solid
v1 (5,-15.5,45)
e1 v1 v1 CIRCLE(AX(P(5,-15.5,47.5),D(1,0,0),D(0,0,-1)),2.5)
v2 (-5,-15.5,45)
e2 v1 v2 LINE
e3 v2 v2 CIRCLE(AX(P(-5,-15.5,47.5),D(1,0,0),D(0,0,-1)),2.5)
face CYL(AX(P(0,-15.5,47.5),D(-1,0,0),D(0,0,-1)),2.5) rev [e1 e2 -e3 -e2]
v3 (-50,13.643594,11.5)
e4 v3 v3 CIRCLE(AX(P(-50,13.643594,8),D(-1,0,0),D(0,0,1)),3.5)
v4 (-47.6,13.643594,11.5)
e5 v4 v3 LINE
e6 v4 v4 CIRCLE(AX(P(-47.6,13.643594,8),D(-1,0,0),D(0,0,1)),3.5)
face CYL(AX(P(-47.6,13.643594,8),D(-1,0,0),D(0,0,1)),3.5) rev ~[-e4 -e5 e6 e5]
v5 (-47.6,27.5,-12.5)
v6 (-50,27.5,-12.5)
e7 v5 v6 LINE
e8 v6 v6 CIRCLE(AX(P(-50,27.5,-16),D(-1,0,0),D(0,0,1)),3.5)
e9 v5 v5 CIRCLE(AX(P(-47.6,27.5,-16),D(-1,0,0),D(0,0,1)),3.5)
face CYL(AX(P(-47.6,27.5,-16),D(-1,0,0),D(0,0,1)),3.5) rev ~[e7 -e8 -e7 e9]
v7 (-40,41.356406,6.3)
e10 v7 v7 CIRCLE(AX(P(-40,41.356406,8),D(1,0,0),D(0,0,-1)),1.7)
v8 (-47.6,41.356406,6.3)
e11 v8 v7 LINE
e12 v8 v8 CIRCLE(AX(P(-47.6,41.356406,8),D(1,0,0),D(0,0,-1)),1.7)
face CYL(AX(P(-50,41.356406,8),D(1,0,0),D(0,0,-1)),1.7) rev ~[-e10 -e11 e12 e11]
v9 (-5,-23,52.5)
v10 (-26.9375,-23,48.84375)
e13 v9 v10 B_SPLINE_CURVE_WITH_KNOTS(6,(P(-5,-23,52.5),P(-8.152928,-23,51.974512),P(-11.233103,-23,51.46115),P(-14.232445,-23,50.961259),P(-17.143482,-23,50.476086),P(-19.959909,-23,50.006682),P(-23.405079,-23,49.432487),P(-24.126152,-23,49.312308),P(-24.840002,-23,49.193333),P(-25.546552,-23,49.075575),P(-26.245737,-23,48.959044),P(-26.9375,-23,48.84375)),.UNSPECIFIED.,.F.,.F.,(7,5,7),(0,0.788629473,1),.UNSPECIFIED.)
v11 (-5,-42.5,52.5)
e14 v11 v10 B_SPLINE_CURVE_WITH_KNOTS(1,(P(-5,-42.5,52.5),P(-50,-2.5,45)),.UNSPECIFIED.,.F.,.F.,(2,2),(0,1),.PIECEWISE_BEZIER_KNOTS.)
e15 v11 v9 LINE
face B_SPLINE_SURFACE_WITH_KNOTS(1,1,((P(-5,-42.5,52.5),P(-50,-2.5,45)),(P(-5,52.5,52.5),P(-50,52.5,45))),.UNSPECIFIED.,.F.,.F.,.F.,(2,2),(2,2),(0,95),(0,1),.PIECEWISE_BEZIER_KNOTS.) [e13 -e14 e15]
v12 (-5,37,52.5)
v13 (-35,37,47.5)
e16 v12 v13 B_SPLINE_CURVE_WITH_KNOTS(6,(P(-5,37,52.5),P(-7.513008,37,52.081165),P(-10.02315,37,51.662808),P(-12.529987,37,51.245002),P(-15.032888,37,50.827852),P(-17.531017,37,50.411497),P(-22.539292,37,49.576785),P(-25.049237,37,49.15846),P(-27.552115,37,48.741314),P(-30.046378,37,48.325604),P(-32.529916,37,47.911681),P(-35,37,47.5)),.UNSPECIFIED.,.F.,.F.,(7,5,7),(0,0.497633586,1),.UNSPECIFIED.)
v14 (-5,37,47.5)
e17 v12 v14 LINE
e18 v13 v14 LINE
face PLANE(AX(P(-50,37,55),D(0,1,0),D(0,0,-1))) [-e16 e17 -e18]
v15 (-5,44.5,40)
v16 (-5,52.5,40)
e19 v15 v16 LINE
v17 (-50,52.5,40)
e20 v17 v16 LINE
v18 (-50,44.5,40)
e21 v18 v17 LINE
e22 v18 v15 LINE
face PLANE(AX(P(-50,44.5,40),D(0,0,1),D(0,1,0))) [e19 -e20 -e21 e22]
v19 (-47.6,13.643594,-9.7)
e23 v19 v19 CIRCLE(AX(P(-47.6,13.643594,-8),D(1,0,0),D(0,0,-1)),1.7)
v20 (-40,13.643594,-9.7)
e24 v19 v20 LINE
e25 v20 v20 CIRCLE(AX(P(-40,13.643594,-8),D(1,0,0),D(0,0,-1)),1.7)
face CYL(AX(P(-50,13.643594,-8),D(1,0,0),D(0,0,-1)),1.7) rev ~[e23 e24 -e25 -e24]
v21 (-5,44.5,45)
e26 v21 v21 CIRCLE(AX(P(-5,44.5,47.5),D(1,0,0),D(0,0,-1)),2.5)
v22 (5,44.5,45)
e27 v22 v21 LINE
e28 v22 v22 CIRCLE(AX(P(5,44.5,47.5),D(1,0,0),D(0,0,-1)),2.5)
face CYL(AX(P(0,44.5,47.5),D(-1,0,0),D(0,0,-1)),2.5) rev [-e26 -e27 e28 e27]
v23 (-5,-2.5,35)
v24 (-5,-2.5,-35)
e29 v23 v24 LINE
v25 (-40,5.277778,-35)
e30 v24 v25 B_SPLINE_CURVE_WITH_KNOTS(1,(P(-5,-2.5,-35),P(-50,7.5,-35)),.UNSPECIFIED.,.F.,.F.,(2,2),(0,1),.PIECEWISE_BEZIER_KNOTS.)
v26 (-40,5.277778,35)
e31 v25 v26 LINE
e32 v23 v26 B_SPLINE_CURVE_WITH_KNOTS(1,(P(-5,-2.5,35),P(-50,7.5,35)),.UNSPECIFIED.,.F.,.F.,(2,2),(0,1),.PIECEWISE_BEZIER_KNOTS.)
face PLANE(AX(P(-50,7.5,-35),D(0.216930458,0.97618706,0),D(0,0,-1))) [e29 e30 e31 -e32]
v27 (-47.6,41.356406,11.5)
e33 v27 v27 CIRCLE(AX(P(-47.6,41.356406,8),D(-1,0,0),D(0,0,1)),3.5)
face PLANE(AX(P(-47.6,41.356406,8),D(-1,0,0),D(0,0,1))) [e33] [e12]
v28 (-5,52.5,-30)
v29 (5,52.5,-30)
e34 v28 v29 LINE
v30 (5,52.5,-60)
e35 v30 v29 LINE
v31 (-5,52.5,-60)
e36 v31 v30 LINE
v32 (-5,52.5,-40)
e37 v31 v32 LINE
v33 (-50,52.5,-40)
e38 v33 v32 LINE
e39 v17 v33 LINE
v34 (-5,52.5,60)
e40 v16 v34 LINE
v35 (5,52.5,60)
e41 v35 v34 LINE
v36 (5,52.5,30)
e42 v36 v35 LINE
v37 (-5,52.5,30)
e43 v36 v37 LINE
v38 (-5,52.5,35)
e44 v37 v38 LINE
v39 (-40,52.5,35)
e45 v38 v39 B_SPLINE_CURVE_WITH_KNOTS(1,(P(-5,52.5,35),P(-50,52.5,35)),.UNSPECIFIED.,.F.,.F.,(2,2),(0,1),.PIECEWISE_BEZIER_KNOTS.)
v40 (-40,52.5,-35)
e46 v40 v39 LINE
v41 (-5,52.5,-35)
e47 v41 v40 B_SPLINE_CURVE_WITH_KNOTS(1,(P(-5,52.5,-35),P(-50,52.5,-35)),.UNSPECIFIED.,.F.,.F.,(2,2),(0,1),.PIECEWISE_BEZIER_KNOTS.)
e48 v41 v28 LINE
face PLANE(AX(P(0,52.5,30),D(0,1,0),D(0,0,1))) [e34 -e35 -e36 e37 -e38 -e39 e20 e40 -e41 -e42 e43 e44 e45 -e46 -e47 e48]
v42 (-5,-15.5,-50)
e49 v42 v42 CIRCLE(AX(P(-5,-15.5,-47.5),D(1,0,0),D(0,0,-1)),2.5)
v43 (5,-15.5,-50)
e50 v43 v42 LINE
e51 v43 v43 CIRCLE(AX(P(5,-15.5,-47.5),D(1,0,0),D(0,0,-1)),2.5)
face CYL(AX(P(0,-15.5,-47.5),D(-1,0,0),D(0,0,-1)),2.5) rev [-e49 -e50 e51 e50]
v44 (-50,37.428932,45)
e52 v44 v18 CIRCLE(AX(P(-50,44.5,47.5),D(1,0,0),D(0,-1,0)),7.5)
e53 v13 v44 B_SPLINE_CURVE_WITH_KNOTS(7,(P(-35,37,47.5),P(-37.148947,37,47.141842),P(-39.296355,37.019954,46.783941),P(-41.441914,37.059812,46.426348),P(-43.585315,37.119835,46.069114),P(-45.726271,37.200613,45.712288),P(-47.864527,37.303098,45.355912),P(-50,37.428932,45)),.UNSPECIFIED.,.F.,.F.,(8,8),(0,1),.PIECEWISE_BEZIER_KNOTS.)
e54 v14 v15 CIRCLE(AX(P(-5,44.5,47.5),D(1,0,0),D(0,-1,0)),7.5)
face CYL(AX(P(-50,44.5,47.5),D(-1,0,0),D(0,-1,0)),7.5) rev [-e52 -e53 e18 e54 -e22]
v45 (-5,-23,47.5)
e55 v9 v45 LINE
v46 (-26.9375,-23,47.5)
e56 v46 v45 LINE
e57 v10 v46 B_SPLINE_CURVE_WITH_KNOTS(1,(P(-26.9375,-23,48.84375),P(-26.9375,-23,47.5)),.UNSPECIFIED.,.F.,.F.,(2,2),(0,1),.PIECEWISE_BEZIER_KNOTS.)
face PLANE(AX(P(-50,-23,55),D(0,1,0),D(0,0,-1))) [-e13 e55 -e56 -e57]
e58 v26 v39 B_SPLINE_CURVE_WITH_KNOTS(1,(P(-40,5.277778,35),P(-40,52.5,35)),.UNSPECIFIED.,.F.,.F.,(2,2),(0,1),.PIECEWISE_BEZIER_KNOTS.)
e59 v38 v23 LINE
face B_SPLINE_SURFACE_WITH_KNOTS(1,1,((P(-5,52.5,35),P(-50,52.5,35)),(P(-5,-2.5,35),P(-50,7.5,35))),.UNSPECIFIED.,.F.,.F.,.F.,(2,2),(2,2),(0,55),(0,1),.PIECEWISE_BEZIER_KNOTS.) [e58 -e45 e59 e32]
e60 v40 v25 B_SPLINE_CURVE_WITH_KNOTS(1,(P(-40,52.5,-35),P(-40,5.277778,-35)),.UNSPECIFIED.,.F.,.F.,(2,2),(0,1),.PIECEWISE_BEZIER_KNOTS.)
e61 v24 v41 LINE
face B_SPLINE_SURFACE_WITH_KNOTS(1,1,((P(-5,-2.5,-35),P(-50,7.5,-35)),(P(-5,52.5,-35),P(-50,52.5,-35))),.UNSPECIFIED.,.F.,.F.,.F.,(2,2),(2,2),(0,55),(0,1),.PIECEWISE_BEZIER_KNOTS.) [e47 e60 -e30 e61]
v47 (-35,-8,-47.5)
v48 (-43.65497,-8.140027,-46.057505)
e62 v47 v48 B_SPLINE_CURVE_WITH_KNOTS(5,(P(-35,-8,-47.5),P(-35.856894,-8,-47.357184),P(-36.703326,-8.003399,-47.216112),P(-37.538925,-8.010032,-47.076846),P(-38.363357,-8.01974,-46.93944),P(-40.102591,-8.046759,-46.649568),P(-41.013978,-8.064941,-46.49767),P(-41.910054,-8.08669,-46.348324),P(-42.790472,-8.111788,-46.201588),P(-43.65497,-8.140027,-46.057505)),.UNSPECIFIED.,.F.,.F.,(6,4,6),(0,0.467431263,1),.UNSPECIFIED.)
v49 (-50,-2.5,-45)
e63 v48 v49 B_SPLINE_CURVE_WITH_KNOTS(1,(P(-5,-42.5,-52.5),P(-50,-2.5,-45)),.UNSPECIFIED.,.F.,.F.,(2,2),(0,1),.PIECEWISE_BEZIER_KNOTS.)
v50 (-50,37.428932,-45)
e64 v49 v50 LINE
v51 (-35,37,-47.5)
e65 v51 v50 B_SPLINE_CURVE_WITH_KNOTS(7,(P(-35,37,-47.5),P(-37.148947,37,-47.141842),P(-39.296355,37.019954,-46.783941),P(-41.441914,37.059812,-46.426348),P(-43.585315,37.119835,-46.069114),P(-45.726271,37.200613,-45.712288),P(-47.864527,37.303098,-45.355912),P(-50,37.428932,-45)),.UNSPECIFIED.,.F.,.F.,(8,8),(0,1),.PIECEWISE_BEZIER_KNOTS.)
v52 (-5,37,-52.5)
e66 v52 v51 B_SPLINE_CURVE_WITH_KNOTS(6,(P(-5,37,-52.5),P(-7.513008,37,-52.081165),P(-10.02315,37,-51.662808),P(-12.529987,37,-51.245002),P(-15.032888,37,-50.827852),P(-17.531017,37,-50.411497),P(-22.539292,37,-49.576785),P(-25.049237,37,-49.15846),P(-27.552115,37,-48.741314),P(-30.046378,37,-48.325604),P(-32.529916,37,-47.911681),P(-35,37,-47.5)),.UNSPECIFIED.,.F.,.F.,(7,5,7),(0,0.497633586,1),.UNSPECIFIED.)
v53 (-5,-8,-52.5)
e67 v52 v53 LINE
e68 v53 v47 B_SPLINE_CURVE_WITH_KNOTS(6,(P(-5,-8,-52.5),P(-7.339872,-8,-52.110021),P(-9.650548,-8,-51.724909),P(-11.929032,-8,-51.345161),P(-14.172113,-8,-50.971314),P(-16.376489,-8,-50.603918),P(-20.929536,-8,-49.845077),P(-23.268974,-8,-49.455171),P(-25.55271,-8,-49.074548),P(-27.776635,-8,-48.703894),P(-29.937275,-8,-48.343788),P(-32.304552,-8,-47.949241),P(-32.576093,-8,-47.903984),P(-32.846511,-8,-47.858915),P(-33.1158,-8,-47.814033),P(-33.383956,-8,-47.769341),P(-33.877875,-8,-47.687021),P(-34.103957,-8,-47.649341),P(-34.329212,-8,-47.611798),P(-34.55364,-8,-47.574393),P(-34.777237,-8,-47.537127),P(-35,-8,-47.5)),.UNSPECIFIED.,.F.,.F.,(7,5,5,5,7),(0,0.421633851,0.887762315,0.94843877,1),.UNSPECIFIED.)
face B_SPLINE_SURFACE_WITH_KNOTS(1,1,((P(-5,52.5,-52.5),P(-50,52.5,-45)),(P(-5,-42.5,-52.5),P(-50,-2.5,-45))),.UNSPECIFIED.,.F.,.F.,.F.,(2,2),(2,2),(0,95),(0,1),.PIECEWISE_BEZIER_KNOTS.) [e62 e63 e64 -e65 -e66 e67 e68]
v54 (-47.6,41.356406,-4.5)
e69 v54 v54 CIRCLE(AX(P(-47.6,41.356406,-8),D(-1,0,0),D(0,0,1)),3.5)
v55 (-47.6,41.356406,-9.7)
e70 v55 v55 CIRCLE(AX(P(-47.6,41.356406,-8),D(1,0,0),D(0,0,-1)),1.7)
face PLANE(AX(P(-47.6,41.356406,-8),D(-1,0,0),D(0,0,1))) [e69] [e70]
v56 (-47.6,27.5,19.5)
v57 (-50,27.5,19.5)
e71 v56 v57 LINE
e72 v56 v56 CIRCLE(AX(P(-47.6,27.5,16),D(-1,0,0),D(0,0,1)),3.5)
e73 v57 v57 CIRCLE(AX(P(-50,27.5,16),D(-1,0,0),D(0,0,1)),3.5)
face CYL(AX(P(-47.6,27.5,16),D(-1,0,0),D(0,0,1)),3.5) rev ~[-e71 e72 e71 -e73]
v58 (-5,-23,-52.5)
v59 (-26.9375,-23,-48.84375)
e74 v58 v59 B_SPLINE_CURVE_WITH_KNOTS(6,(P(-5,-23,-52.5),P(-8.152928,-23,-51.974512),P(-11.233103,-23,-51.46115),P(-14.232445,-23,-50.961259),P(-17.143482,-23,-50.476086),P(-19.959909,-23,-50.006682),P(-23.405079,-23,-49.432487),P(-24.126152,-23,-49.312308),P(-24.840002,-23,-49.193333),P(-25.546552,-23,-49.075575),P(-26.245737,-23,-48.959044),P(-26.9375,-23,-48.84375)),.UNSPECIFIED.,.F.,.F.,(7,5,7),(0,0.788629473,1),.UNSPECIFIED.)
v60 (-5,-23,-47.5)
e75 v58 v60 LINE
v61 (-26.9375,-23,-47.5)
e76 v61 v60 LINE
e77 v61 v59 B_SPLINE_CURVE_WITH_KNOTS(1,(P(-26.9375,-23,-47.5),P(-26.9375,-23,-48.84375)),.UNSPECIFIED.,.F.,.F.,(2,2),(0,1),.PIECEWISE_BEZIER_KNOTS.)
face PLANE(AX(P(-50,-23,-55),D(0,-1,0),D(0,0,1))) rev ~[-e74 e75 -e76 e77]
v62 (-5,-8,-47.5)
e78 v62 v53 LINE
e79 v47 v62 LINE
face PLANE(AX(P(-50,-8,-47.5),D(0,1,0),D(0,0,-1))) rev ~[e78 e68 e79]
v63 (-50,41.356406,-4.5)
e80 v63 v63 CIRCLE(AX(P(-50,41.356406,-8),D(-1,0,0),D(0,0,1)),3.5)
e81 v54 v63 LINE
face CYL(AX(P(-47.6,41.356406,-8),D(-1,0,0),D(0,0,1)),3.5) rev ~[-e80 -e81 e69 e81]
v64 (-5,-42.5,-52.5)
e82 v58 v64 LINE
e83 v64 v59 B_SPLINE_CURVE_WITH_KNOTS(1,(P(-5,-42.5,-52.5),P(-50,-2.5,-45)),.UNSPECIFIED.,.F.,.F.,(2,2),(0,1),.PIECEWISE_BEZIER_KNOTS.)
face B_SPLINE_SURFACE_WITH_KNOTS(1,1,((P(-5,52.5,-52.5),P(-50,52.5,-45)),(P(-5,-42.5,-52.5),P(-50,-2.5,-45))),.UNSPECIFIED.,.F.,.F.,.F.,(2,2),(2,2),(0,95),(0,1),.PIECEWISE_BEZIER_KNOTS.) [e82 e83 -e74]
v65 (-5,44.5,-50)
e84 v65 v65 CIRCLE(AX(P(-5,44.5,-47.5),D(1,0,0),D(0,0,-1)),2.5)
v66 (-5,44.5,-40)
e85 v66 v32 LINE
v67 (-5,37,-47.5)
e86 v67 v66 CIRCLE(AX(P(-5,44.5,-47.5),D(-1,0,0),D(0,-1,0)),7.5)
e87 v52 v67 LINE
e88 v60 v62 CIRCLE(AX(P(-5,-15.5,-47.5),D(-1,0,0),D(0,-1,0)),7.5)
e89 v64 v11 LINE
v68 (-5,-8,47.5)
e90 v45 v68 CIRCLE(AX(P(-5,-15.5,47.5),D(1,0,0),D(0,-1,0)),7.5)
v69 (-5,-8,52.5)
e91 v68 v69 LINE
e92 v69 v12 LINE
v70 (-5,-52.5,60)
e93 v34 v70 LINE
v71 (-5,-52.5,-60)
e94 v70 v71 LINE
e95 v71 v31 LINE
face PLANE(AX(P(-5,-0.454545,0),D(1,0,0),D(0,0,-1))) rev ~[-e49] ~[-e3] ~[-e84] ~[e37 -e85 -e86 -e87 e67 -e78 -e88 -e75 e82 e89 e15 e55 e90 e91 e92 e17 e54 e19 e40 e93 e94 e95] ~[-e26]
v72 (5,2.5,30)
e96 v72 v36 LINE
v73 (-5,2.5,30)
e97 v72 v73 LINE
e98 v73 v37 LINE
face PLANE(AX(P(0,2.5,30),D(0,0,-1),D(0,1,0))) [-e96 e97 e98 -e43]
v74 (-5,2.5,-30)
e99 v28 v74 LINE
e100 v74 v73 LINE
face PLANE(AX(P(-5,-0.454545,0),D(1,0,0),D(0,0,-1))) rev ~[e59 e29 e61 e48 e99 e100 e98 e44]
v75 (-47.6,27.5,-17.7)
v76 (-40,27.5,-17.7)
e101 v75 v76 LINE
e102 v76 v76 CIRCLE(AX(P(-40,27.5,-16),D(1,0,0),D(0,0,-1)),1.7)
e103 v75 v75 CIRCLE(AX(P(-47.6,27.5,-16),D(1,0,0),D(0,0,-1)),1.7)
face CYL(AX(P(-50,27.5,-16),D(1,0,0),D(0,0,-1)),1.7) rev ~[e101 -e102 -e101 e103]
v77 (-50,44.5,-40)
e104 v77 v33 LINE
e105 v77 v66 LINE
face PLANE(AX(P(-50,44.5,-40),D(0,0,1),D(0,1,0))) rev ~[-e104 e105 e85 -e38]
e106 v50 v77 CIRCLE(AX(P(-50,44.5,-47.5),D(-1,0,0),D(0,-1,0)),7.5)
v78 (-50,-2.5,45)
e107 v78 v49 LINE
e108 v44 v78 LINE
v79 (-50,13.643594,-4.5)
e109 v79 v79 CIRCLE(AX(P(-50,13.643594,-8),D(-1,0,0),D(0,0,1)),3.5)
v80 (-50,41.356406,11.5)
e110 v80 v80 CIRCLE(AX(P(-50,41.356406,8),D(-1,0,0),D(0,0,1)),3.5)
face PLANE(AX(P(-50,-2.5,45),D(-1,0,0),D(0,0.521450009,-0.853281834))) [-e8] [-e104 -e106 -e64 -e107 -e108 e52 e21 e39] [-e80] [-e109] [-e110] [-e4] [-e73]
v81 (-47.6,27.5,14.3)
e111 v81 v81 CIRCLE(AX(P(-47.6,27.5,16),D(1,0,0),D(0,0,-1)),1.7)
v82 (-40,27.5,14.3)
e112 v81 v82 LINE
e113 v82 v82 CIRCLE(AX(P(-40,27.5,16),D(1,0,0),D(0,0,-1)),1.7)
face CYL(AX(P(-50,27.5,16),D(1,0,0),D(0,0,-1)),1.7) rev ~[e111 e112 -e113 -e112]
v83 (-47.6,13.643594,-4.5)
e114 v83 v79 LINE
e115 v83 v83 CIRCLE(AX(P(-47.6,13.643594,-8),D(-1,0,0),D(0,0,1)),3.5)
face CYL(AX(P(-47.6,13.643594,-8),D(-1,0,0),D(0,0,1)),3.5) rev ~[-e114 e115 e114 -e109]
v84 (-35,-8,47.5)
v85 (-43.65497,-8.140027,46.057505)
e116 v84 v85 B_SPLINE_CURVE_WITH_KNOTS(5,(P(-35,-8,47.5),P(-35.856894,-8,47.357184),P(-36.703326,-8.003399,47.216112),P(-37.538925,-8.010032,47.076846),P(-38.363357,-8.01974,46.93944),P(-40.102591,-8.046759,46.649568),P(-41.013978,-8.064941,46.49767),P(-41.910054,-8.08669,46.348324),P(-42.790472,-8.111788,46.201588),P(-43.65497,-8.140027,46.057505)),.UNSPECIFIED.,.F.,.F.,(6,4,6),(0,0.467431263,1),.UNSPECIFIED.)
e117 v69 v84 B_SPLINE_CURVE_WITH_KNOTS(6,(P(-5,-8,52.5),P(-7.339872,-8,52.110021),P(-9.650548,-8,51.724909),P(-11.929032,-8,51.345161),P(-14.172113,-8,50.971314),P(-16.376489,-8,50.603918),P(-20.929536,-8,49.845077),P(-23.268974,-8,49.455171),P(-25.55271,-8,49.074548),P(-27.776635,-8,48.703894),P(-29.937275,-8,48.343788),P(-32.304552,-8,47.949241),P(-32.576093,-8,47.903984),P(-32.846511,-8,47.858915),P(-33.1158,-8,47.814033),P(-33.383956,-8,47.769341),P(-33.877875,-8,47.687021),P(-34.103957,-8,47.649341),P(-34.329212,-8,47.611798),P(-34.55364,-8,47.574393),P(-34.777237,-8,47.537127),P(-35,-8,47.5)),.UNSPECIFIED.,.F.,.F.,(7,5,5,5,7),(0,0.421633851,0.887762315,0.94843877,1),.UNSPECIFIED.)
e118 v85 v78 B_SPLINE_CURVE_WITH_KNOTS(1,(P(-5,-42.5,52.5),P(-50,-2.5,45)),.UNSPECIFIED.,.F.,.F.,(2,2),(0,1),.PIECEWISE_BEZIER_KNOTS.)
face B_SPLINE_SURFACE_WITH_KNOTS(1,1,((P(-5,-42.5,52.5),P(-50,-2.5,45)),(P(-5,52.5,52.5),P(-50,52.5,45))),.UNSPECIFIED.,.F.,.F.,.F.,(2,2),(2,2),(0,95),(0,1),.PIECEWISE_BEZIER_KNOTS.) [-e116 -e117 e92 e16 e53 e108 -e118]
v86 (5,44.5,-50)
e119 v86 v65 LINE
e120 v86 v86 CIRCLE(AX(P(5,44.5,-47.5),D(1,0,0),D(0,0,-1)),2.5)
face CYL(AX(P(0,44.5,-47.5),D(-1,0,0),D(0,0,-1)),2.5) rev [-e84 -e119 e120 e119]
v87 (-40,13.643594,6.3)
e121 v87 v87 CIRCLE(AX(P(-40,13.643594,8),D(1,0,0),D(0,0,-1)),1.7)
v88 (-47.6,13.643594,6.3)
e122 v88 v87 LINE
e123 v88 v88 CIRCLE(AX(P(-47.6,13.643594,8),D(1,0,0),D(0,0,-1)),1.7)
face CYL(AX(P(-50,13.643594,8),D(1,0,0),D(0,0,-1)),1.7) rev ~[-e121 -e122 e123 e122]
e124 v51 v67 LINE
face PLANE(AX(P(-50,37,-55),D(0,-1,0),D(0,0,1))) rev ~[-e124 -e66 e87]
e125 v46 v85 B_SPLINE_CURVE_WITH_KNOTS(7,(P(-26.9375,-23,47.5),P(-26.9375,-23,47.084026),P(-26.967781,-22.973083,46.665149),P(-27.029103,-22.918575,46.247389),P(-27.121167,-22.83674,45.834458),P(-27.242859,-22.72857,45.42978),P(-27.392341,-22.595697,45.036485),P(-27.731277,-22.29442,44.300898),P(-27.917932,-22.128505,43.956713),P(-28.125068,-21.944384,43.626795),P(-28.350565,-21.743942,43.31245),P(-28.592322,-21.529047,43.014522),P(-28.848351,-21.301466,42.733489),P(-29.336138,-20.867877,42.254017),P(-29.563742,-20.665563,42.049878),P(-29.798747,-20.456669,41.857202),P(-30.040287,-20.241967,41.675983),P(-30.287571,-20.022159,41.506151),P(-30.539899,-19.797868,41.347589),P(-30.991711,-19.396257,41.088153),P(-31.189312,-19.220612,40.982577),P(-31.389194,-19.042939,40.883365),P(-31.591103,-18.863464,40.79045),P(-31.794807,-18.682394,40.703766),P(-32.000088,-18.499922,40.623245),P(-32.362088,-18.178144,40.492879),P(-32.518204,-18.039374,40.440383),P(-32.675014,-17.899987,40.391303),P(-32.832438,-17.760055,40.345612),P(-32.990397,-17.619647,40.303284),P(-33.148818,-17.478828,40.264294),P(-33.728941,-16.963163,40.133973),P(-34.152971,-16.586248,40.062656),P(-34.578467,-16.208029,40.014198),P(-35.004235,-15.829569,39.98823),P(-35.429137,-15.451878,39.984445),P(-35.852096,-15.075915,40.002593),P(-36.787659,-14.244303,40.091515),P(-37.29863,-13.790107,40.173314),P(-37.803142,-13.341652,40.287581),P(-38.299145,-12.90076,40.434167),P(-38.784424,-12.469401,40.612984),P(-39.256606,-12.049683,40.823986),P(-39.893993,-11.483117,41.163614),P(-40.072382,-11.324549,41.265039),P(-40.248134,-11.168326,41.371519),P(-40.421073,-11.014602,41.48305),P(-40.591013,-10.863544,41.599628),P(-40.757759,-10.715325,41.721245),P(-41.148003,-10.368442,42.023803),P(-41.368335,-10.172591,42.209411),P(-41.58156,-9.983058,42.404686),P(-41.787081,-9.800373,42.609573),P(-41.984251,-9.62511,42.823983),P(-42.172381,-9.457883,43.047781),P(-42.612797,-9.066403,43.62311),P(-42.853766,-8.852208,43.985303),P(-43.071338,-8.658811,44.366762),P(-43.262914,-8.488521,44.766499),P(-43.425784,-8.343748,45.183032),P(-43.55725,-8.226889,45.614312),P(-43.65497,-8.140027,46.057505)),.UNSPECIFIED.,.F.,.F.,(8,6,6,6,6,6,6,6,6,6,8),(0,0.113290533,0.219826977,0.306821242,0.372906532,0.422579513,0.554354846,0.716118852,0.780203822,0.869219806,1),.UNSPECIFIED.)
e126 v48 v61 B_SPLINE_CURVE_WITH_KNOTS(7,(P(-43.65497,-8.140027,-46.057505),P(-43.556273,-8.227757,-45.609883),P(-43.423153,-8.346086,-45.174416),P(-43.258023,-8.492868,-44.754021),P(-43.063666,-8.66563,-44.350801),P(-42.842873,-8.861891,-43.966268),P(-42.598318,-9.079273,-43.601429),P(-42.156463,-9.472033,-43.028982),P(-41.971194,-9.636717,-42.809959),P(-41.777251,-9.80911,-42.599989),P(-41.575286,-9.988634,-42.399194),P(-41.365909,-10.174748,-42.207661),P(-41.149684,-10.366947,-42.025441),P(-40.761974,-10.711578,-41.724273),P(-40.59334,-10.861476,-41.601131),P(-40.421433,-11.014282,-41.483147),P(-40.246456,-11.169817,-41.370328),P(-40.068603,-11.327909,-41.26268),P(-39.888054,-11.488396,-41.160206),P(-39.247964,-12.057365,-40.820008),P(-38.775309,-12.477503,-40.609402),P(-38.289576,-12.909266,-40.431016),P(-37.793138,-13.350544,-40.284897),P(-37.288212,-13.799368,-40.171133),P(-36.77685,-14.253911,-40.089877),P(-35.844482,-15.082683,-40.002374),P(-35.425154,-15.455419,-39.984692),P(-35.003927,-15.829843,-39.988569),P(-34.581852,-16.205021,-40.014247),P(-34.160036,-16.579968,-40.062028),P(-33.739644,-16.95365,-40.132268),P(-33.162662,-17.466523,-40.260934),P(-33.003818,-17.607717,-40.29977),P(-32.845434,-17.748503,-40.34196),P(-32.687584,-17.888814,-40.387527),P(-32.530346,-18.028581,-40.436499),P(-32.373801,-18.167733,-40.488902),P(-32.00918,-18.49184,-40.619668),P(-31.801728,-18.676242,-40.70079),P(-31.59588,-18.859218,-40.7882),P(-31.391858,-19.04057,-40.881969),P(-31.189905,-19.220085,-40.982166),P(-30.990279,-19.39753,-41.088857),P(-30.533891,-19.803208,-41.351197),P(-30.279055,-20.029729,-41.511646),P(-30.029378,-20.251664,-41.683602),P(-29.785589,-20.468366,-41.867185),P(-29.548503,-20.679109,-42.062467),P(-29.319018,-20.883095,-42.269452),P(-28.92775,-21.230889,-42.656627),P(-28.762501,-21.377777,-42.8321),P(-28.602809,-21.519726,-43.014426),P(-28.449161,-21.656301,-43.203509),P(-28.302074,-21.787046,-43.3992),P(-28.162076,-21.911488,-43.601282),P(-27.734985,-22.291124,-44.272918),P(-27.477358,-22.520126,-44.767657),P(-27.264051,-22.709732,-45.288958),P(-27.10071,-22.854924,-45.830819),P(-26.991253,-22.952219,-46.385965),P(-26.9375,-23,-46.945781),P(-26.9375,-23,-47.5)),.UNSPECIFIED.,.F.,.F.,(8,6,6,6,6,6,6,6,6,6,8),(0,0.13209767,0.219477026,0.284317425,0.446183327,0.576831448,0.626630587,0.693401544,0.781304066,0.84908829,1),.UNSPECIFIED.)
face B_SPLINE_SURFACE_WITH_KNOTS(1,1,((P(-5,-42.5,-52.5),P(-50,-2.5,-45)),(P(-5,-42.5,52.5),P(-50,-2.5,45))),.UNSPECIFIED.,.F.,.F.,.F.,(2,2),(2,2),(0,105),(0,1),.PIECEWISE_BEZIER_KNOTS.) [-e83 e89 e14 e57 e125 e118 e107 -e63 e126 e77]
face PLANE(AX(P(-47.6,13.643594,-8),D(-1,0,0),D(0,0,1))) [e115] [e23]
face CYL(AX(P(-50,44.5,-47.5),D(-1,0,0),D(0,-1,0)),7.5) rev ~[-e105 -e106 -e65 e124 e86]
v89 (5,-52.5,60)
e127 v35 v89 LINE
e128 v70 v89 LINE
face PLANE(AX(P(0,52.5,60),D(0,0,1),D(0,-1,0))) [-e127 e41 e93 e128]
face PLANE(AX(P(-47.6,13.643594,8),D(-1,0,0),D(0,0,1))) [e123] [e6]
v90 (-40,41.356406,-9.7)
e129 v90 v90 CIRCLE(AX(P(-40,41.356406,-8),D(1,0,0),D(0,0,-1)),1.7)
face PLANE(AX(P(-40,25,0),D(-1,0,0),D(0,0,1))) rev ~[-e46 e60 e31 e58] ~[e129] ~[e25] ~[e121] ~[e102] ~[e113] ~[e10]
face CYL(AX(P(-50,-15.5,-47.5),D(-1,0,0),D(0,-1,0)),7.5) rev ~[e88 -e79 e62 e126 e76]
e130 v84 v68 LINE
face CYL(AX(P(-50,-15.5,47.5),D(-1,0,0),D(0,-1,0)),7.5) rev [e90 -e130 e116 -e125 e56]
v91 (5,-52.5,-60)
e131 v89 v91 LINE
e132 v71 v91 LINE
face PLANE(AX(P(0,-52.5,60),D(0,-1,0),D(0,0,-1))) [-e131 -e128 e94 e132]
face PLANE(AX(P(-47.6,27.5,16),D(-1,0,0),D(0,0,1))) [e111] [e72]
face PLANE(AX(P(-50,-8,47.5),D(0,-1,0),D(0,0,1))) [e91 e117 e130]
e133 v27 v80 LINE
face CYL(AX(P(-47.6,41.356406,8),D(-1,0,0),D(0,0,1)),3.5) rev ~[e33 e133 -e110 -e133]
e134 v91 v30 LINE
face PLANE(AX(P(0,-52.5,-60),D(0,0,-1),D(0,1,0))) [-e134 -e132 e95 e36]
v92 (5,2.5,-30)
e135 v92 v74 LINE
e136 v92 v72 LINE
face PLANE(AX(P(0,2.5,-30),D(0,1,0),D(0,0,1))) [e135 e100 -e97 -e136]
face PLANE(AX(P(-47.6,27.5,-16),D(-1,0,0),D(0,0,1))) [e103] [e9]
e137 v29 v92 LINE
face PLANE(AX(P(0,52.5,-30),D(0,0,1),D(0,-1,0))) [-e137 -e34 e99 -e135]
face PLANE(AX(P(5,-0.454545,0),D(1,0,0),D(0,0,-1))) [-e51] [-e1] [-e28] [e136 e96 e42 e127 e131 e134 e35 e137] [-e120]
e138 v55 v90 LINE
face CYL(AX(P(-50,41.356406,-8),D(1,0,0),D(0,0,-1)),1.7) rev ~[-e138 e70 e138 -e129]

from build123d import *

# Parameters (mm, degrees)
CROQUIS1_R                                           = 2.5
SALIENTE_EXTRUIR1_DEPTH                              = 5
CROQUIS9_W                                           = 90
CROQUIS9_H                                           = 55
SALIENTE_EXTRUIR2_DEPTH                              = 10
REFRENTADO_PARA_TORNILLO_CON_CABEZA_TRON_D           = 3.4
REFRENTADO_PARA_TORNILLO_CON_CABEZA_TRON_DEPTH       = 10
REFRENTADO_PARA_TORNILLO_CON_CABEZA_TRON_CBORE_D     = 7
REFRENTADO_PARA_TORNILLO_CON_CABEZA_TRON_CBORE_DEPTH = 2.4
CORTAR_EXTRUIR1_DEPTH                                = 45


with BuildPart() as part:
    # Croquis1 → Saliente-Extruir1 (new, symmetric)
    with BuildSketch(Plane(origin=(0, 0, 0), x_dir=(0, 0, -1), z_dir=(1, 0, 0))):
        Polygon((-60, 52.5), (-60, -52.5), (60, -52.5), (60, 52.5), (30, 52.5), (30, 2.5), (-30, 2.5), (-30, 52.5), align=None)
        with Locations((-47.5, -15.5)):
            Circle(CROQUIS1_R, mode=Mode.SUBTRACT)
        with Locations((47.5, -15.5)):
            Circle(CROQUIS1_R, mode=Mode.SUBTRACT)
        with Locations((-47.5, 44.5)):
            Circle(CROQUIS1_R, mode=Mode.SUBTRACT)
        with Locations((47.5, 44.5)):
            Circle(CROQUIS1_R, mode=Mode.SUBTRACT)
    extrude(amount=SALIENTE_EXTRUIR1_DEPTH, both=True)

    # Croquis7 → Recubrir3 section 0
    with BuildSketch(Plane.ZY.offset(5)):
        with BuildLine():
            Line((-52.5, -42.5), (52.5, -42.5))
            Line((52.5, -42.5), (52.5, 52.5))
            Line((52.5, 52.5), (35, 52.5))
            Line((35, 52.5), (35, -2.5))
            Line((35, -2.5), (-35, -2.5))
            Line((-35, -2.5), (-35, 52.5))
            Line((-35, 52.5), (-52.5, 52.5))
            Line((-52.5, 52.5), (-52.5, -42.5))
        make_face()
    # Croquis8 → Recubrir3 section 1
    with BuildSketch(Plane(origin=(-50, 0, 0), x_dir=(0, 0, -1), z_dir=(1, 0, 0))):
        with BuildLine():
            Line((-45, -2.5), (45, -2.5))
            Line((45, -2.5), (45, 52.5))
            Line((45, 52.5), (35, 52.5))
            Line((35, 52.5), (35, 7.5))
            Line((35, 7.5), (-35, 7.5))
            Line((-35, 7.5), (-35, 52.5))
            Line((-35, 52.5), (-45, 52.5))
            Line((-45, 52.5), (-45, -2.5))
        make_face()
    loft()

    # Croquis9 → Saliente-Extruir2 (add)
    with BuildSketch(Plane.ZY.offset(50)):
        with Locations((0, 25)):
            Rectangle(CROQUIS9_W, CROQUIS9_H)
    extrude(amount=-SALIENTE_EXTRUIR2_DEPTH)

    # Refrentado para tornillo con cabeza troncocónica de M34
    with Locations(Plane.ZY.offset(50)):
        with Locations((-8, 41.356406461), (8, 41.356406461), (16, 27.5), (8, 13.643593539), (-8, 13.643593539), (-16, 27.5), (-99.109009009, 35.557197268)):
            CounterBoreHole(REFRENTADO_PARA_TORNILLO_CON_CABEZA_TRON_D / 2, REFRENTADO_PARA_TORNILLO_CON_CABEZA_TRON_CBORE_D / 2, REFRENTADO_PARA_TORNILLO_CON_CABEZA_TRON_CBORE_DEPTH, depth=REFRENTADO_PARA_TORNILLO_CON_CABEZA_TRON_DEPTH)

    # Croquis12 → Cortar-Extruir1 (cut)
    with BuildSketch(Plane.ZY.offset(50)):
        with BuildLine():
            Line((-40, 44.5), (-40, 52.5))
            Line((-40, 52.5), (-55, 52.5))
            Line((-55, 52.5), (-55, 44.5))
            Line((-55, 44.5), (-55, 37))
            Line((-55, 37), (-47.5, 37))
            ThreePointArc((-47.5, 37), (-42.196699141, 39.196699141), (-40, 44.5))
        make_face()
        with BuildLine():
            Line((40, 44.5), (40, 52.5))
            Line((40, 52.5), (55, 52.5))
            Line((55, 52.5), (55, 44.5))
            Line((55, 44.5), (55, 37))
            Line((55, 37), (47.5, 37))
            ThreePointArc((47.5, 37), (42.196699141, 39.196699141), (40, 44.5))
        make_face()
        with BuildLine():
            Line((47.5, -8), (55, -8))
            Line((55, -8), (55, -15.5))
            Line((55, -15.5), (55, -23))
            Line((55, -23), (47.5, -23))
            ThreePointArc((47.5, -23), (40, -15.5), (47.5, -8))
        make_face()
        with BuildLine():
            Line((-47.5, -8), (-55, -8))
            Line((-55, -8), (-55, -15.5))
            Line((-55, -15.5), (-55, -23))
            Line((-55, -23), (-47.5, -23))
            ThreePointArc((-47.5, -23), (-40, -15.5), (-47.5, -8))
        make_face()
    extrude(amount=-CORTAR_EXTRUIR1_DEPTH, mode=Mode.SUBTRACT)


solid = part.part
